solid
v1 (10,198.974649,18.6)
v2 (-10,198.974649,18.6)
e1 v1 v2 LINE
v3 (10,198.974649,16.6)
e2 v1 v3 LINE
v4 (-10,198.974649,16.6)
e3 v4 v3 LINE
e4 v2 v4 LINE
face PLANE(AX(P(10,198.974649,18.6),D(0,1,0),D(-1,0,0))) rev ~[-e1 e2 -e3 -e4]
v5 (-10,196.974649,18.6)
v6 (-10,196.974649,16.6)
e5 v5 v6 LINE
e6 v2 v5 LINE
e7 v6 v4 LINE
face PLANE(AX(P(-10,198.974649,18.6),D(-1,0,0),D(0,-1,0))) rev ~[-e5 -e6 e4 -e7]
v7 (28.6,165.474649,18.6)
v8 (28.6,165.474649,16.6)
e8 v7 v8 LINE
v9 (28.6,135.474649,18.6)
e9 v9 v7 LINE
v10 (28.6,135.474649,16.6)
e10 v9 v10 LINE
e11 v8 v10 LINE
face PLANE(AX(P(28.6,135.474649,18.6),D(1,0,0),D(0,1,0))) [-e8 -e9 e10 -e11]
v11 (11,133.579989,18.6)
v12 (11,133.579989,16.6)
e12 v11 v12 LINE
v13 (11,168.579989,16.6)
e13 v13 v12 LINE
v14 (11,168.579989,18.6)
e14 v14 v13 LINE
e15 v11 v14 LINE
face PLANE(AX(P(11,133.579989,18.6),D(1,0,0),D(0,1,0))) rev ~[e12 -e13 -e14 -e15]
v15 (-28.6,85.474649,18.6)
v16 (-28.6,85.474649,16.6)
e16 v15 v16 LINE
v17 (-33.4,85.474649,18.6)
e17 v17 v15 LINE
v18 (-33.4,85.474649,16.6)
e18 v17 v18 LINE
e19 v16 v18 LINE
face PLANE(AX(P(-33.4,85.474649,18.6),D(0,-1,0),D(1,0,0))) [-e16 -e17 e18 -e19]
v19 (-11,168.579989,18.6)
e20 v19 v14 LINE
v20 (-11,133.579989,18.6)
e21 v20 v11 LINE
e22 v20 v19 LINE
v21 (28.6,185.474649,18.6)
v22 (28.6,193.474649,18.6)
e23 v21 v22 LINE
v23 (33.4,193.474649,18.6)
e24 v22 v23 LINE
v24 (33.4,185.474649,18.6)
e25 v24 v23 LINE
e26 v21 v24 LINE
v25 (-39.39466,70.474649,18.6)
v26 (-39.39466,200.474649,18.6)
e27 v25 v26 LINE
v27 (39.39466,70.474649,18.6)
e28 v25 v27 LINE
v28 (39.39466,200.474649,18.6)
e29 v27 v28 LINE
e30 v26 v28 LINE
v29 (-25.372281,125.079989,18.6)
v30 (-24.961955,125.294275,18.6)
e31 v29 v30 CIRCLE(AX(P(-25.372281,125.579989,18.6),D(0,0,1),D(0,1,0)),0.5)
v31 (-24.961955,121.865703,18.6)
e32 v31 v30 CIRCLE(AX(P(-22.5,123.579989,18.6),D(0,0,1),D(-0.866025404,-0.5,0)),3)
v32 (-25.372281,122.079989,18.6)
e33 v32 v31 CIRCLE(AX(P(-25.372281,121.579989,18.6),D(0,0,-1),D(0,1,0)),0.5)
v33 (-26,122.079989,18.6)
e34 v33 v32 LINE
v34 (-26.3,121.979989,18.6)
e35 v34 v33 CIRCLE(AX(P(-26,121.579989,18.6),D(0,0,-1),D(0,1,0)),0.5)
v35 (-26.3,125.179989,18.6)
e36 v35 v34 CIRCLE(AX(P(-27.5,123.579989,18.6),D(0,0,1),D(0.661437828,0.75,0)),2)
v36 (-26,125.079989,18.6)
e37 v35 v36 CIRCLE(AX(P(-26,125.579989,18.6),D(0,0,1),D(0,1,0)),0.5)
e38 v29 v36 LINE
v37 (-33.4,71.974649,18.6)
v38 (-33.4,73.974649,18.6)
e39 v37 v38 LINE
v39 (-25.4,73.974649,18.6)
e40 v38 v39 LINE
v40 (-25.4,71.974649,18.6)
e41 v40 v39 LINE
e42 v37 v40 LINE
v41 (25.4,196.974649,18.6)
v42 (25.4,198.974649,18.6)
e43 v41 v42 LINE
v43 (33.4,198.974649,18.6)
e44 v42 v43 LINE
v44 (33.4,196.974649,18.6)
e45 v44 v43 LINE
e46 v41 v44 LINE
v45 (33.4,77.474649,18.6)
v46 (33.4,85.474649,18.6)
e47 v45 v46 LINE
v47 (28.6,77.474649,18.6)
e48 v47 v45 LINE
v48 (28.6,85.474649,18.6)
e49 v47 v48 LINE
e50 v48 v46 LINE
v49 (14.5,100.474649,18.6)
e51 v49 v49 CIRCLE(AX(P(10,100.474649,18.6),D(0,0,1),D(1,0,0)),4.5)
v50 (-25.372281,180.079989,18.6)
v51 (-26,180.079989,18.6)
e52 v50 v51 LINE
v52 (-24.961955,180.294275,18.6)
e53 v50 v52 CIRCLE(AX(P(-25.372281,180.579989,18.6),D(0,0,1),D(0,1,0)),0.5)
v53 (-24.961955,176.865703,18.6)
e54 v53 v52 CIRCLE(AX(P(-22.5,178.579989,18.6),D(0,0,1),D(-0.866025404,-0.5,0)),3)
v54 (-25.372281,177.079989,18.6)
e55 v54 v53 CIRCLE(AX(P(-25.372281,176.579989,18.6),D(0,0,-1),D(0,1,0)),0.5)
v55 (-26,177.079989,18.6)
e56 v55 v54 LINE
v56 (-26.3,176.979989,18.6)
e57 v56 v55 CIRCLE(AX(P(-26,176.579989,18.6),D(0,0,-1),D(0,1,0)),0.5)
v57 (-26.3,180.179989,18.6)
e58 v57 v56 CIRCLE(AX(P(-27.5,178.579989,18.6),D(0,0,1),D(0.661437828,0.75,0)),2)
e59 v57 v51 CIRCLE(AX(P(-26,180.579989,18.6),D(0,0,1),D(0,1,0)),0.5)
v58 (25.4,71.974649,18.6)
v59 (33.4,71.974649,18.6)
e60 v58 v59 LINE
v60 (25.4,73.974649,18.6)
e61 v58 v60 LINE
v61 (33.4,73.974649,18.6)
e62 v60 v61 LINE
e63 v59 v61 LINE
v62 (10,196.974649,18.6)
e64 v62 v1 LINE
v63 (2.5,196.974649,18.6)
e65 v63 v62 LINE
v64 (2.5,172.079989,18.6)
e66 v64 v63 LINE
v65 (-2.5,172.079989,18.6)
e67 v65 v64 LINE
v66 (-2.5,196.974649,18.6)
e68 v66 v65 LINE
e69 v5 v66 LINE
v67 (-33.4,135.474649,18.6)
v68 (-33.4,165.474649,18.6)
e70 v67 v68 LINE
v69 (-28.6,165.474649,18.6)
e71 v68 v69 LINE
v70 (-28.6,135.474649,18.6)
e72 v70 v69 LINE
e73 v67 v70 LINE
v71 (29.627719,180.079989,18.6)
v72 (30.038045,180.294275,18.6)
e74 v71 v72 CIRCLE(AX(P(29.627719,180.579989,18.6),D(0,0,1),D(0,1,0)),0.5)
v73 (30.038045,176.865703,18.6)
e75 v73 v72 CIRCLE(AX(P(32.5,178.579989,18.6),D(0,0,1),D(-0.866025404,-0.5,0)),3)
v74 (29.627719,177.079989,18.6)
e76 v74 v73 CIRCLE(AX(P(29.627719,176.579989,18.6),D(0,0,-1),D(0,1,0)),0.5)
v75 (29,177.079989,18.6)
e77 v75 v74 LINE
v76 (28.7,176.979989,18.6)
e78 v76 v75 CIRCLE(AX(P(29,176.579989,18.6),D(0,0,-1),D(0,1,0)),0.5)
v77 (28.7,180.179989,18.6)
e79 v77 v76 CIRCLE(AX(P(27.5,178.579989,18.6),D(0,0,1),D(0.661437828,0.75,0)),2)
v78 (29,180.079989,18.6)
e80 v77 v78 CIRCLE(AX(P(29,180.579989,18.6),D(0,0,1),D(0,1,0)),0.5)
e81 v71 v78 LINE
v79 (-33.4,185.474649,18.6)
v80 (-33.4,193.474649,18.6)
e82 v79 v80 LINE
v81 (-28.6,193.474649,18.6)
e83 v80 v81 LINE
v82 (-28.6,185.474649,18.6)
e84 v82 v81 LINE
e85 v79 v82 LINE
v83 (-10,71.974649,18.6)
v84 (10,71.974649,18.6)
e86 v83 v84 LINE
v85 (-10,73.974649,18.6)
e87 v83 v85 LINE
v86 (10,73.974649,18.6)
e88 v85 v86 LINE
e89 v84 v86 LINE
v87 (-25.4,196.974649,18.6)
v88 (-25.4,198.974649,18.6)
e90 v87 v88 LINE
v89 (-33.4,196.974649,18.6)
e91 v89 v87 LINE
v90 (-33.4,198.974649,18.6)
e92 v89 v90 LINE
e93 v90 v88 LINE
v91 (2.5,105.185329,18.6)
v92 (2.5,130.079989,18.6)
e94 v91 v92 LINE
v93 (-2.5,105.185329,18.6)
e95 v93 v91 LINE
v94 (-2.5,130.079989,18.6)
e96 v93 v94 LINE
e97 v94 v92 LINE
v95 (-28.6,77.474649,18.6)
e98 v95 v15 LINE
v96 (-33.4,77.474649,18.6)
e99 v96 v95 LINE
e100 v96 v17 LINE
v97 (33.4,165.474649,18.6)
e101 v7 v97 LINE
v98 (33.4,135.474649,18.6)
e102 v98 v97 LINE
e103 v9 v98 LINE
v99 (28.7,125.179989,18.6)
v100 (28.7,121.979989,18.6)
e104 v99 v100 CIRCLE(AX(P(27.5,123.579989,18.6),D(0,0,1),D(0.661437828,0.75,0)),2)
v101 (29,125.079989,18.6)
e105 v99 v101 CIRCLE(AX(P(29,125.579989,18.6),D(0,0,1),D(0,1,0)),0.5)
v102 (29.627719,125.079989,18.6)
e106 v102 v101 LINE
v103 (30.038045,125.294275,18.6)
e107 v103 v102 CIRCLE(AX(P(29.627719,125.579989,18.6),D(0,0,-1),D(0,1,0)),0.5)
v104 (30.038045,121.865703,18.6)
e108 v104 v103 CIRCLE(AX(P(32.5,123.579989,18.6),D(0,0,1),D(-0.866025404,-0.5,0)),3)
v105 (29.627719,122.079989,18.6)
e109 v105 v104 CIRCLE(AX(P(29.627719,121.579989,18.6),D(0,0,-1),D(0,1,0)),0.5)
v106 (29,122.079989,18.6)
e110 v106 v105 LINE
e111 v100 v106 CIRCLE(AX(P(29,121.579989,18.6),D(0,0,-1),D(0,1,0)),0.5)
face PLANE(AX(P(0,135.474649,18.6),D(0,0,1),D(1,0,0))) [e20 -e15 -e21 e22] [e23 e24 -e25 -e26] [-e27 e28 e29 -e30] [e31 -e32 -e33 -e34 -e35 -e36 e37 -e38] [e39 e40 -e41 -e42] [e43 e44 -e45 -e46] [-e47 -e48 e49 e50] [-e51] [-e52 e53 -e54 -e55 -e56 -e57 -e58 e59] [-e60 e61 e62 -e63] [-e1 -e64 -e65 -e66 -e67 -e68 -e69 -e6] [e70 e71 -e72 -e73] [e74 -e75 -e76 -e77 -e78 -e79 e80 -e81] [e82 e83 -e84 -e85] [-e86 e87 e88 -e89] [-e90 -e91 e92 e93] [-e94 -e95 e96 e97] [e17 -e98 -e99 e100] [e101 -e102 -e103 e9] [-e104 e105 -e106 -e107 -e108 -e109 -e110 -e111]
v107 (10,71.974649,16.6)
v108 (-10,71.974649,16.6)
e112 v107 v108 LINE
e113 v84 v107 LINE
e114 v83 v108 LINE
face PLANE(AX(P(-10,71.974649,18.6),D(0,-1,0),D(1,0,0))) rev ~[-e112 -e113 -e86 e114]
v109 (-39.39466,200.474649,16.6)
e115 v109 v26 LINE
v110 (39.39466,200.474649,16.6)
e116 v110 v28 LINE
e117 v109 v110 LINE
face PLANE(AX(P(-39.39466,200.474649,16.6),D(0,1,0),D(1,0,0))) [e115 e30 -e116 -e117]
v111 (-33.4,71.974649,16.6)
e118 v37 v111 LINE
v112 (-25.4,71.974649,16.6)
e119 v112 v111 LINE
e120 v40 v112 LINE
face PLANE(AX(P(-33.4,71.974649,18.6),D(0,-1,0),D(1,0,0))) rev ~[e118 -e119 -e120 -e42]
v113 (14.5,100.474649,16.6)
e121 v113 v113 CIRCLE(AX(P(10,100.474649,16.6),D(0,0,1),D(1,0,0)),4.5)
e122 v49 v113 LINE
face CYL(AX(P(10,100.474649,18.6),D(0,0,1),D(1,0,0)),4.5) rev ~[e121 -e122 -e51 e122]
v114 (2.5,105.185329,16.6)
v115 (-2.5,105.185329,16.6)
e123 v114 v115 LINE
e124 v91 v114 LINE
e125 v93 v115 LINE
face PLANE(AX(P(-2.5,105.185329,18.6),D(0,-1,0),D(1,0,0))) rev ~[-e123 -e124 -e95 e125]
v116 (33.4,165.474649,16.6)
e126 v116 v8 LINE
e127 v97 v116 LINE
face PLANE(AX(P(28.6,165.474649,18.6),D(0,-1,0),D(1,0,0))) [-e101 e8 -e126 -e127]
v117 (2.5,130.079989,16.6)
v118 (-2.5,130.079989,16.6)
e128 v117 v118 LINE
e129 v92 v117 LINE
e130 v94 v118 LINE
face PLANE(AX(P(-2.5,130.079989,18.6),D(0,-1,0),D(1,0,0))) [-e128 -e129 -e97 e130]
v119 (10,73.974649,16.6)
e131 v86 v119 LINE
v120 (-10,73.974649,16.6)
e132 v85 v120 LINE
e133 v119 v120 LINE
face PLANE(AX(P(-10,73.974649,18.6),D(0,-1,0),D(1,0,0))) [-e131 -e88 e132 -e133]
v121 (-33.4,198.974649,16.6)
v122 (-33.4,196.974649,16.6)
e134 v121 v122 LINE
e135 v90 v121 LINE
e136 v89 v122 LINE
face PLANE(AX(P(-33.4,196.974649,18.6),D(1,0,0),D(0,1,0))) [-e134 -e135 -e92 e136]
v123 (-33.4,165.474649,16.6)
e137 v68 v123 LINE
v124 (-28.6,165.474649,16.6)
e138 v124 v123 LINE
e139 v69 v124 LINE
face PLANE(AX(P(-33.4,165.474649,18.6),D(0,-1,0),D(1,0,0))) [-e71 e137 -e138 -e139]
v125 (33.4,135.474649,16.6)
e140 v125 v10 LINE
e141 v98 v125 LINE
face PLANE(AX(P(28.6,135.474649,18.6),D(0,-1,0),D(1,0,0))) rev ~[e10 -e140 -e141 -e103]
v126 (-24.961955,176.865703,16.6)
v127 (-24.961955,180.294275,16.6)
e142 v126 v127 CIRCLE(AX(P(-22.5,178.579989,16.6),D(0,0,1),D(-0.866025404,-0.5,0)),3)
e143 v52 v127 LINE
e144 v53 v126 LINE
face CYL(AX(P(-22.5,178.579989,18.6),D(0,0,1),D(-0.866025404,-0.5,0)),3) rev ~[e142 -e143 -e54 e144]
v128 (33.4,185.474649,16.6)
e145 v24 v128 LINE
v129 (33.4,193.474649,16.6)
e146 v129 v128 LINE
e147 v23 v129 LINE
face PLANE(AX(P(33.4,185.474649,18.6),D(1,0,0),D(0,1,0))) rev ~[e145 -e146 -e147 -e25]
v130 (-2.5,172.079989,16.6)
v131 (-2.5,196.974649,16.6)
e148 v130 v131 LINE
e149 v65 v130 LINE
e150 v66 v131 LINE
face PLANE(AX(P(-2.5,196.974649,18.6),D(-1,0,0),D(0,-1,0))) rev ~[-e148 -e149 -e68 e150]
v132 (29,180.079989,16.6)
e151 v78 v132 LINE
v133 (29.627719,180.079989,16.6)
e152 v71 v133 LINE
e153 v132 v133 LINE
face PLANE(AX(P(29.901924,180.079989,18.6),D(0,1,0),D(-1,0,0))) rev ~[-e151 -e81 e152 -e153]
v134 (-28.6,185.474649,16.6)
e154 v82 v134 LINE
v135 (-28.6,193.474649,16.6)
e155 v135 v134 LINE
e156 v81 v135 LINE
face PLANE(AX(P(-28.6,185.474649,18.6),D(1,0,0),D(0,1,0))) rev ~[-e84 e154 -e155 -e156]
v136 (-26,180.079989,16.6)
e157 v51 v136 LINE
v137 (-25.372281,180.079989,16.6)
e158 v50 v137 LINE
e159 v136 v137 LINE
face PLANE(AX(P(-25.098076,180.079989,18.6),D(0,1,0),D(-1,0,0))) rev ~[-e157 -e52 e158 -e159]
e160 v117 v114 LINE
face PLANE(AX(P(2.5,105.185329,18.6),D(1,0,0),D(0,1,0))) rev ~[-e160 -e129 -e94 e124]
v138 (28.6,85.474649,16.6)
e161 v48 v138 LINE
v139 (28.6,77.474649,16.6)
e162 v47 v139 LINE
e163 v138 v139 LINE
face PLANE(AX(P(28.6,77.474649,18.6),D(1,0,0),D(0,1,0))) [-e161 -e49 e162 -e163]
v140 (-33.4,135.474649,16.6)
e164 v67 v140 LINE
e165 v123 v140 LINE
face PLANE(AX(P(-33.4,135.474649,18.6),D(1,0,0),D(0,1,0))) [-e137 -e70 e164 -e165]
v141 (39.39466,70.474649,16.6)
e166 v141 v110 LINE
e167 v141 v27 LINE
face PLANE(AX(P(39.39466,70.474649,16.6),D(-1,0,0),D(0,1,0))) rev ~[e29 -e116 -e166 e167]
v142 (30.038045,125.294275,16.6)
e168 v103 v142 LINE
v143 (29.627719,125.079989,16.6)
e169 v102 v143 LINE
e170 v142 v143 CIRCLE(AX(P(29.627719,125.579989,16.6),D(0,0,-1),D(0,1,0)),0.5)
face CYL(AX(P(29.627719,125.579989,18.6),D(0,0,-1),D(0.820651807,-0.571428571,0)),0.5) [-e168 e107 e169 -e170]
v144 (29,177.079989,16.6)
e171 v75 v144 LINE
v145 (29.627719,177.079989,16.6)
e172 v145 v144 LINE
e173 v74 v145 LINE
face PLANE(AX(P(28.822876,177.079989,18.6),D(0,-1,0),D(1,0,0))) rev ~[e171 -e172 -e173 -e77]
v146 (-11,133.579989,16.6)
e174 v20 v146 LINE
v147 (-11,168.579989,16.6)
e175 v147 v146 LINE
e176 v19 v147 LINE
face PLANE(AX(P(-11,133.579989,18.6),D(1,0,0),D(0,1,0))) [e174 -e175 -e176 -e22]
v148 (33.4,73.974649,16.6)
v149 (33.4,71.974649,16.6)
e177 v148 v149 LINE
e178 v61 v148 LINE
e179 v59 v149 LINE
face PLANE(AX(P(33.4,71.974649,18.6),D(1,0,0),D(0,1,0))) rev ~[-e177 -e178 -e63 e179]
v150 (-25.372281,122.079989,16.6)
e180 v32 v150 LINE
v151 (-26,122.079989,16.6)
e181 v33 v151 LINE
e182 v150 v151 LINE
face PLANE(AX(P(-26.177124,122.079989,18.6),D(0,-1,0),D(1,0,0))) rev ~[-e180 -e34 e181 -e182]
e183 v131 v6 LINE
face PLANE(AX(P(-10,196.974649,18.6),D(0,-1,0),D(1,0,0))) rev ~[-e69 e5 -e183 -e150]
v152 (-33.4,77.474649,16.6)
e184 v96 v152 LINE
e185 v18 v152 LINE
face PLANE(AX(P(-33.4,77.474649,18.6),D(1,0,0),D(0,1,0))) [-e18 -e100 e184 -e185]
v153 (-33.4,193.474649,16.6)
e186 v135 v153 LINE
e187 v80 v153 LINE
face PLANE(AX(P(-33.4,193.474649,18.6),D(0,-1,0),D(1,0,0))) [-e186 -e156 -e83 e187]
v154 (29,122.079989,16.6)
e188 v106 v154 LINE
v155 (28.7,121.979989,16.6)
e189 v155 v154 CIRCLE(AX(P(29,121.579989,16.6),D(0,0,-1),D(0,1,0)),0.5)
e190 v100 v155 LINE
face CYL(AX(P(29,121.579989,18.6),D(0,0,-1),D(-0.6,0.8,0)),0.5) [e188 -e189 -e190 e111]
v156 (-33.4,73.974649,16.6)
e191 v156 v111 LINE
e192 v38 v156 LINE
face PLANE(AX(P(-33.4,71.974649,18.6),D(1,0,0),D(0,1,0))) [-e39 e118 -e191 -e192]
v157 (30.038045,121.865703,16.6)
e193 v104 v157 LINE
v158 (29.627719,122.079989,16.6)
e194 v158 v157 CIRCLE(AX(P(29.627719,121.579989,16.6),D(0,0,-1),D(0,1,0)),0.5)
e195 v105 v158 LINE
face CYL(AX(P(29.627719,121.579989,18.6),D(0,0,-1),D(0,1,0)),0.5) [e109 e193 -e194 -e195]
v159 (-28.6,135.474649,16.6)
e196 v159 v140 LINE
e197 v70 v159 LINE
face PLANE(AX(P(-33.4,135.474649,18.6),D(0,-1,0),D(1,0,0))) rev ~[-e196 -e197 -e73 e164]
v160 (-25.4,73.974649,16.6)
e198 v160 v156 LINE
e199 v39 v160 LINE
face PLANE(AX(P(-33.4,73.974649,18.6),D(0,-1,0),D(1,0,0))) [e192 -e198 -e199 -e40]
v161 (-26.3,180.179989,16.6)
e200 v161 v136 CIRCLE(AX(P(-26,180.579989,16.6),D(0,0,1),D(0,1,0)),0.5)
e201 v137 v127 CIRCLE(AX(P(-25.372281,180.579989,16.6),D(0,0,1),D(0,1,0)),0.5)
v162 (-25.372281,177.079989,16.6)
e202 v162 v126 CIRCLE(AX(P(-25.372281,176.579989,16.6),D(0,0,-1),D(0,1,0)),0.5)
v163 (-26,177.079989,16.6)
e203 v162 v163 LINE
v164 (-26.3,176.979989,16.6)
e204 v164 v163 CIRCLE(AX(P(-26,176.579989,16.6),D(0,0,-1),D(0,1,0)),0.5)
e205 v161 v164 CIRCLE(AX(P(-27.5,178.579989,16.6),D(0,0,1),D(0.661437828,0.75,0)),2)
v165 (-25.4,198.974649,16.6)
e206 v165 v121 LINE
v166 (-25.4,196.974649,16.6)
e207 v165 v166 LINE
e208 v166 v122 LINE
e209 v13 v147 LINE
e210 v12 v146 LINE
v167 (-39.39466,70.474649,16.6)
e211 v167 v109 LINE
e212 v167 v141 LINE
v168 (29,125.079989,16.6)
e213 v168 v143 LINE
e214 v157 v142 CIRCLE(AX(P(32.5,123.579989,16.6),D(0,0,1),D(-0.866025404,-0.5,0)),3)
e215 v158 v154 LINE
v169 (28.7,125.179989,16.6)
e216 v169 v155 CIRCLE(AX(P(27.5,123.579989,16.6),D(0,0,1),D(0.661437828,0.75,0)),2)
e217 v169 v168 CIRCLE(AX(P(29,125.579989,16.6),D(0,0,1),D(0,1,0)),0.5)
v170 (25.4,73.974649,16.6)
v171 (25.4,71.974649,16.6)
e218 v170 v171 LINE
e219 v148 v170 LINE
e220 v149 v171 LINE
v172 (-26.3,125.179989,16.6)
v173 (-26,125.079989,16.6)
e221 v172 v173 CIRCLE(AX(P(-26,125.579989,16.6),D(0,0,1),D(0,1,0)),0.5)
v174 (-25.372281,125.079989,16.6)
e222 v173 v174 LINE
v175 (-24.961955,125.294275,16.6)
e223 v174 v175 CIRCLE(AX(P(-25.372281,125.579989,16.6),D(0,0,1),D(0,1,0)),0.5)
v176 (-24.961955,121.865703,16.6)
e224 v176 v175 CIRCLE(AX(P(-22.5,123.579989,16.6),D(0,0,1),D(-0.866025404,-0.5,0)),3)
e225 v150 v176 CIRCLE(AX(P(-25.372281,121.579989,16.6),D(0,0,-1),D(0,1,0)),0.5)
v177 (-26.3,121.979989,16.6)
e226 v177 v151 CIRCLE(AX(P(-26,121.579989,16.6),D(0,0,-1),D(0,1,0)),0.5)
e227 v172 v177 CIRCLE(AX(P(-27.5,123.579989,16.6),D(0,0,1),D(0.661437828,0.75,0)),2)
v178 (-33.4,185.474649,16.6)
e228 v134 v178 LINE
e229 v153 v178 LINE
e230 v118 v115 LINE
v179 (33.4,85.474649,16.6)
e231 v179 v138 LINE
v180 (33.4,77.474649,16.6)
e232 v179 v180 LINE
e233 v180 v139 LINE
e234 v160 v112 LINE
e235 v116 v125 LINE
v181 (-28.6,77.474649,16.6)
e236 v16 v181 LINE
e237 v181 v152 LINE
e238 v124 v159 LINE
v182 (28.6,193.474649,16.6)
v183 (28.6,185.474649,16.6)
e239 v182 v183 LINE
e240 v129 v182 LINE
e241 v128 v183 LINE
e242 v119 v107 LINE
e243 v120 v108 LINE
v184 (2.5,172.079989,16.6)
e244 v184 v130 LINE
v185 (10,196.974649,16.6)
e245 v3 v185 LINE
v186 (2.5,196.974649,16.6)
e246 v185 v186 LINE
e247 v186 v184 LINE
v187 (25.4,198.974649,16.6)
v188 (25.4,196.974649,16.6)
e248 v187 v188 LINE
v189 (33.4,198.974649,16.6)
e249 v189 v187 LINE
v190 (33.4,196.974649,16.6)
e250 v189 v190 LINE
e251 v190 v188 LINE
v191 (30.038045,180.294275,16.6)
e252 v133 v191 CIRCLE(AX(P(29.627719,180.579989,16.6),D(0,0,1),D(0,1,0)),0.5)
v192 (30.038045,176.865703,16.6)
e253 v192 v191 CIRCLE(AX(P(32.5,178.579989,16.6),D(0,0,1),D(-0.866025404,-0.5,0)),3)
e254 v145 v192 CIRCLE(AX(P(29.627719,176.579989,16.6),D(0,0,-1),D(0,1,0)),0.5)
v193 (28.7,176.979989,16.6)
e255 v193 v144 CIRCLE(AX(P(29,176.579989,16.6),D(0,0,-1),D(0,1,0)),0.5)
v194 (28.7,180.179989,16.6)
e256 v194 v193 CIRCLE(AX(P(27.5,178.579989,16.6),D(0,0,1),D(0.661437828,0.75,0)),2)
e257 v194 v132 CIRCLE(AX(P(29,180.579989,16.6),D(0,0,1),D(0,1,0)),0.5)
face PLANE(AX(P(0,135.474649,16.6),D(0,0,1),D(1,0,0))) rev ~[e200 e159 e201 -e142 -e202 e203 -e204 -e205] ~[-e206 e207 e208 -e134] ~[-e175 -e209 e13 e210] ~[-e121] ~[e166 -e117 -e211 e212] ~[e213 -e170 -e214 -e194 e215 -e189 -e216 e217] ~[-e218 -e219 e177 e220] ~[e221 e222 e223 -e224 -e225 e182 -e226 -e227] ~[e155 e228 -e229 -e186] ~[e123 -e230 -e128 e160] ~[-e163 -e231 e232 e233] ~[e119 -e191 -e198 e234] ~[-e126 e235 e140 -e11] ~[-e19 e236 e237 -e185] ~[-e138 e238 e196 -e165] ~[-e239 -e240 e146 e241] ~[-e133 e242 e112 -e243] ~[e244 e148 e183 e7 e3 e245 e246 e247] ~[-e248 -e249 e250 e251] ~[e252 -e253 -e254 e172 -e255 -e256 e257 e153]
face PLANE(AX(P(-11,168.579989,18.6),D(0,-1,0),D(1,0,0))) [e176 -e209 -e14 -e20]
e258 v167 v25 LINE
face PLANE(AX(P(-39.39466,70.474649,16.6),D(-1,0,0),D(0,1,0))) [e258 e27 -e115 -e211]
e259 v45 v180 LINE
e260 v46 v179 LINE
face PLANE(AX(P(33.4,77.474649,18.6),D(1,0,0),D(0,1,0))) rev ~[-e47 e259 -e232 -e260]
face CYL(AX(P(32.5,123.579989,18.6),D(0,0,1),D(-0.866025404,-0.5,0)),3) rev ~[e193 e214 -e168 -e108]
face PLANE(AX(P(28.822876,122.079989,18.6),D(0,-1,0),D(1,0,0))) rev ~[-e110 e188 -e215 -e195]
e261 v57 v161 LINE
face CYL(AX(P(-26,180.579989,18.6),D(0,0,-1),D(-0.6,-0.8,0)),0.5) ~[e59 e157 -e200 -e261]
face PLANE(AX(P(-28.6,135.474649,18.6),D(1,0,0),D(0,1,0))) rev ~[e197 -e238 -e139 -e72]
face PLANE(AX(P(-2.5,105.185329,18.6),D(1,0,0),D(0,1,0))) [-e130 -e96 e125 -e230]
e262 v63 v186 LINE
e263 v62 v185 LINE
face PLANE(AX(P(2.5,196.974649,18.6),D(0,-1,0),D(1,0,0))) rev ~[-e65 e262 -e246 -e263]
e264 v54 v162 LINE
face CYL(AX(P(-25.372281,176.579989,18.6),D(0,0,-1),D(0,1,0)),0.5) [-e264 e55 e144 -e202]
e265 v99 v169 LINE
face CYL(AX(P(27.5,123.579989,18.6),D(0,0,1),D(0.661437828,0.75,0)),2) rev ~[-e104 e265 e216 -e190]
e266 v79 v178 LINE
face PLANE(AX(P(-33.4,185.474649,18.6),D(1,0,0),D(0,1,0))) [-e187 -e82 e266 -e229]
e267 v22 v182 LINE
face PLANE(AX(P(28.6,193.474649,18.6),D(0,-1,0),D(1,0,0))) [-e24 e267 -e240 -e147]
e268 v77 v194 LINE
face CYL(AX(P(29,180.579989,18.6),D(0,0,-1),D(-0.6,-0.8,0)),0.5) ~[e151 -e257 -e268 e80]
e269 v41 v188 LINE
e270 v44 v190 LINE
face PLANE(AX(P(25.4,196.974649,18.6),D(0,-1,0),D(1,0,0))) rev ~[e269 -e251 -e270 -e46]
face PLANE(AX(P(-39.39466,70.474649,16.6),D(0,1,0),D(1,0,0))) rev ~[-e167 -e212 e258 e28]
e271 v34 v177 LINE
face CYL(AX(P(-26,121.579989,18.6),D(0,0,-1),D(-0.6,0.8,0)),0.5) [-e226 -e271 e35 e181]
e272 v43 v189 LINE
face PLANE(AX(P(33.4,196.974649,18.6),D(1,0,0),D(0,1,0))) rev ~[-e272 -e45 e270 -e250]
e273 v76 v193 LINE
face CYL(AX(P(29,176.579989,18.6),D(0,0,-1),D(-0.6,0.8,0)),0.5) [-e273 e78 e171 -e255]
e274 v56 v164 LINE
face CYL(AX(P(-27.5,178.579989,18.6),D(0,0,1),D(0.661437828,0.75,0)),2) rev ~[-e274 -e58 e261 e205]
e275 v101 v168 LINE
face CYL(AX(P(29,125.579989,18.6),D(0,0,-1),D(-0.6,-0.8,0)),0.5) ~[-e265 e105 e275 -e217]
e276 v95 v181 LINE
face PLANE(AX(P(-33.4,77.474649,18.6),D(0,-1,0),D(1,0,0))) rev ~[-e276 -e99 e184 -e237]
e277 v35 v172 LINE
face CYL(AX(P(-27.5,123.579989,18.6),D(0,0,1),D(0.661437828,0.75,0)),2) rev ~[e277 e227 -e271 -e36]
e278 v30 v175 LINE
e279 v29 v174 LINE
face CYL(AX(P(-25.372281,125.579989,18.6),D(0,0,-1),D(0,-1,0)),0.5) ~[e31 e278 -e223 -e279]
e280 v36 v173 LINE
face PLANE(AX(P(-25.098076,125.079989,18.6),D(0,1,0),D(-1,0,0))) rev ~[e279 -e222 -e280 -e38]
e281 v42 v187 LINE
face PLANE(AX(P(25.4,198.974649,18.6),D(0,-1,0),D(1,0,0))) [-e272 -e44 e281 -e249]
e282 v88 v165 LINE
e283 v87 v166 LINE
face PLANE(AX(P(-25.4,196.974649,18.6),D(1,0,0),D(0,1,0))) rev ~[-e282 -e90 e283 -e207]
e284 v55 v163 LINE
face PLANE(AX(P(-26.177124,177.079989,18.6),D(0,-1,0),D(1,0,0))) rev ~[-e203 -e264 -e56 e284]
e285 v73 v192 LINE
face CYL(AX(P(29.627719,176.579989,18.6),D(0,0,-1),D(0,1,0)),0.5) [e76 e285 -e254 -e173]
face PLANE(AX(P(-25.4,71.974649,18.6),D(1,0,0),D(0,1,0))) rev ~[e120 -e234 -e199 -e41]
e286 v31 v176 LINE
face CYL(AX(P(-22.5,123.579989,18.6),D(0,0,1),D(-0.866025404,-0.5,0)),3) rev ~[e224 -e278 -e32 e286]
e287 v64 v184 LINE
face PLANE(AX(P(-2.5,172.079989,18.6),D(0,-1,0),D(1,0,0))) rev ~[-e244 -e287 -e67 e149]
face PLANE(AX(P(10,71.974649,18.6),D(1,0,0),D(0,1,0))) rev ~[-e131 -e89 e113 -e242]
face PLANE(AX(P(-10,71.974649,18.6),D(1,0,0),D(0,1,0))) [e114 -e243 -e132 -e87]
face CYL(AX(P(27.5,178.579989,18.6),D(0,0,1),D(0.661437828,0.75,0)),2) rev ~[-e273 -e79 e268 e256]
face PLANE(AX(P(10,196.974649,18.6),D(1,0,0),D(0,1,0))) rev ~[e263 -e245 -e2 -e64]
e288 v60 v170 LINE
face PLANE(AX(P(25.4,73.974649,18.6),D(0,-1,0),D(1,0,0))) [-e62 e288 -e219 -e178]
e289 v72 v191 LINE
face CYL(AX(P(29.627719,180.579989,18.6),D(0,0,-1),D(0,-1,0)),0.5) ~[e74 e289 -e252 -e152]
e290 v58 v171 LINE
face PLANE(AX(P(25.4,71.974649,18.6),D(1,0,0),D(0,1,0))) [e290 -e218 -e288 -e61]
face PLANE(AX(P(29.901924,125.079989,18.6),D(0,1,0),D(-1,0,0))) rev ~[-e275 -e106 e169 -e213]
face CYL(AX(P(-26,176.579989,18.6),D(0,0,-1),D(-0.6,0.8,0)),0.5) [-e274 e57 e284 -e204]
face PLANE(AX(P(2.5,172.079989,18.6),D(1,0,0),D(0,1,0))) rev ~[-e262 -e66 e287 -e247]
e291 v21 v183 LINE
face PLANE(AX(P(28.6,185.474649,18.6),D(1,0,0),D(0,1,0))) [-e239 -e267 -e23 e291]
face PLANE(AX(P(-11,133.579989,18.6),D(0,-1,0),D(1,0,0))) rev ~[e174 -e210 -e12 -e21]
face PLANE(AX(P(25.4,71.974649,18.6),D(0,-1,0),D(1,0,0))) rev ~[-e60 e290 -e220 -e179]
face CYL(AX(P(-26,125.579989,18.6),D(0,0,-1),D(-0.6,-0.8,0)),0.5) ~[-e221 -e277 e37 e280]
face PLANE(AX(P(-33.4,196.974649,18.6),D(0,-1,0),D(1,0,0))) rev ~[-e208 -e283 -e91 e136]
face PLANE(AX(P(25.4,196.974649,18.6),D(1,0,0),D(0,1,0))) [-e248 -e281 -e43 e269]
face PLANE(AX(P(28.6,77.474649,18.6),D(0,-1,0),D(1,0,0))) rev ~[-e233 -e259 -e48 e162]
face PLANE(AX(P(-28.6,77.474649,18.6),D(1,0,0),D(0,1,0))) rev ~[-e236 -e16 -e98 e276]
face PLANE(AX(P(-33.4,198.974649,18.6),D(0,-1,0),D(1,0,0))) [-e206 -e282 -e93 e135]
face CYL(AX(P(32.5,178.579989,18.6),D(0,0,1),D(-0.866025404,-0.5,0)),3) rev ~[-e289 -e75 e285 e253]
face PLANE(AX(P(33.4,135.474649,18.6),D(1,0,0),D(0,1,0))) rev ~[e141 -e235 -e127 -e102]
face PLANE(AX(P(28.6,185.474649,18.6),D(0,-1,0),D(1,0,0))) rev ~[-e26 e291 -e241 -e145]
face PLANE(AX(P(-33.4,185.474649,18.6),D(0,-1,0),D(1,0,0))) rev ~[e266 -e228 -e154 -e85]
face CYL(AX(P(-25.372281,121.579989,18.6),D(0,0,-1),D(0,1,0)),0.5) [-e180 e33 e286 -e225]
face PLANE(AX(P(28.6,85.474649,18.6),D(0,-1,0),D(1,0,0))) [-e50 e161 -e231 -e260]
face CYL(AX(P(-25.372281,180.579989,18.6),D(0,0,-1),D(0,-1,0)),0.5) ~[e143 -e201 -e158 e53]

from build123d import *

# Parameters (mm, degrees)
SKETCH1_W              = 78.789320596
SKETCH1_H              = 130
PANEL_DEPTH            = 2
SUCKER_HOLES_REACH     = 206.318
FILLET1_R              = 0.5
SIDE_PLATE_SLOTS_REACH = 206.318
SKETCH3_W              = 22
SKETCH3_H              = 35
SKETCH3_W_2            = 5
SKETCH3_H_2            = 24.894660299
SKETCH3_W_3            = 8
SKETCH3_H_3            = 2
SKETCH3_W_4            = 4.8
SKETCH3_H_4            = 8
SKETCH3_H_5            = 30
SKETCH3_W_5            = 20
CUT_EXTRUDE3_REACH     = 206.318
SKETCH4_R              = 4.5


with BuildPart() as part:
    # Sketch1 → panel (new body)
    with BuildSketch(Plane.XY.offset(16.6)):
        with Locations((0, 135.474649456)):
            Rectangle(SKETCH1_W, SKETCH1_H)
    extrude(amount=PANEL_DEPTH)

    # Sketch2 → sucker holes (cut, up to next)
    with BuildSketch(Plane.XY.offset(18.6), mode=Mode.PRIVATE) as sucker_holes_sk1:
        with BuildLine():
            ThreePointArc((-26.177124344, 125.079989158), (-29.5, 123.579989158), (-26.177124344, 122.079989158))
            Line((-26.177124344, 122.079989158), (-25.098076211, 122.079989158))
            ThreePointArc((-25.098076211, 122.079989158), (-19.5, 123.579989158), (-25.098076211, 125.079989158))
            Line((-25.098076211, 125.079989158), (-26.177124344, 125.079989158))
        make_face()
    sucker_holes_tool1 = extrude(sucker_holes_sk1.sketch, amount=-SUCKER_HOLES_REACH, mode=Mode.PRIVATE) & part.part
    # Sketch2 → sucker holes (cut, up to next)
    with BuildSketch(Plane.XY.offset(18.6), mode=Mode.PRIVATE) as sucker_holes_sk2:
        with BuildLine():
            ThreePointArc((-26.177124344, 180.079989158), (-29.5, 178.579989158), (-26.177124344, 177.079989158))
            Line((-26.177124344, 177.079989158), (-25.098076211, 177.079989158))
            ThreePointArc((-25.098076211, 177.079989158), (-19.5, 178.579989158), (-25.098076211, 180.079989158))
            Line((-25.098076211, 180.079989158), (-26.177124344, 180.079989158))
        make_face()
    sucker_holes_tool2 = extrude(sucker_holes_sk2.sketch, amount=-SUCKER_HOLES_REACH, mode=Mode.PRIVATE) & part.part
    # Sketch2 → sucker holes (cut, up to next)
    with BuildSketch(Plane.XY.offset(18.6), mode=Mode.PRIVATE) as sucker_holes_sk3:
        with BuildLine():
            ThreePointArc((28.822875656, 180.079989158), (25.5, 178.579989158), (28.822875656, 177.079989158))
            Line((28.822875656, 177.079989158), (29.901923789, 177.079989158))
            ThreePointArc((29.901923789, 177.079989158), (35.5, 178.579989158), (29.901923789, 180.079989158))
            Line((29.901923789, 180.079989158), (28.822875656, 180.079989158))
        make_face()
    sucker_holes_tool3 = extrude(sucker_holes_sk3.sketch, amount=-SUCKER_HOLES_REACH, mode=Mode.PRIVATE) & part.part
    # Sketch2 → sucker holes (cut, up to next)
    with BuildSketch(Plane.XY.offset(18.6), mode=Mode.PRIVATE) as sucker_holes_sk4:
        with BuildLine():
            ThreePointArc((28.822875656, 125.079989158), (25.5, 123.579989158), (28.822875656, 122.079989158))
            Line((28.822875656, 122.079989158), (29.901923789, 122.079989158))
            ThreePointArc((29.901923789, 122.079989158), (35.5, 123.579989158), (29.901923789, 125.079989158))
            Line((29.901923789, 125.079989158), (28.822875656, 125.079989158))
        make_face()
    sucker_holes_tool4 = extrude(sucker_holes_sk4.sketch, amount=-SUCKER_HOLES_REACH, mode=Mode.PRIVATE) & part.part
    add(sucker_holes_tool1.solids().sort_by_distance((-24.075669, 123.579989, 18.6))[0], mode=Mode.SUBTRACT)
    add(sucker_holes_tool2.solids().sort_by_distance((-24.075669, 178.579989, 18.6))[0], mode=Mode.SUBTRACT)
    add(sucker_holes_tool3.solids().sort_by_distance((30.924331, 178.579989, 18.6))[0], mode=Mode.SUBTRACT)
    add(sucker_holes_tool4.solids().sort_by_distance((30.924331, 123.579989, 18.6))[0], mode=Mode.SUBTRACT)

    # Fillet1
    fillet1_edges = [part.edges().sort_by_distance(p)[0] for p in [
        (-26.177124344, 125.079989158, 17.6),
        (-25.098076211, 125.079989158, 17.6),
        (-25.098076211, 122.079989158, 17.6),
        (-26.177124344, 122.079989158, 17.6),
        (-25.098076211, 177.079989158, 17.6),
        (-26.177124344, 177.079989158, 17.6),
        (-26.177124344, 180.079989158, 17.6),
        (-25.098076211, 180.079989158, 17.6),
        (29.901923789, 177.079989158, 17.6),
        (28.822875656, 177.079989158, 17.6),
        (28.822875656, 180.079989158, 17.6),
        (29.901923789, 180.079989158, 17.6),
        (29.901923789, 122.079989158, 17.6),
        (28.822875656, 122.079989158, 17.6),
        (28.822875656, 125.079989158, 17.6),
        (29.901923789, 125.079989158, 17.6),
    ]]
    fillet(fillet1_edges, radius=FILLET1_R)

    # Sketch3 → side plate slots (cut, up to next)
    with BuildSketch(Plane.XY.offset(18.6), mode=Mode.PRIVATE) as side_plate_slots_sk1:
        with Locations((0, 151.079989158)):
            Rectangle(SKETCH3_W, SKETCH3_H)
    side_plate_slots_tool1 = extrude(side_plate_slots_sk1.sketch, amount=-SIDE_PLATE_SLOTS_REACH, mode=Mode.PRIVATE) & part.part
    # Sketch3 → side plate slots (cut, up to next)
    with BuildSketch(Plane.XY.offset(18.6), mode=Mode.PRIVATE) as side_plate_slots_sk2:
        Polygon((-2.5, 196.974649456), (-2.5, 172.079989158), (2.5, 172.079989158), (2.5, 196.974649456), (10, 196.974649456), (10, 198.974649456), (-10, 198.974649456), (-10, 196.974649456), align=None)
    side_plate_slots_tool2 = extrude(side_plate_slots_sk2.sketch, amount=-SIDE_PLATE_SLOTS_REACH, mode=Mode.PRIVATE) & part.part
    # Sketch3 → side plate slots (cut, up to next)
    with BuildSketch(Plane.XY.offset(18.6), mode=Mode.PRIVATE) as side_plate_slots_sk3:
        with Locations((0, 117.632659009)):
            Rectangle(SKETCH3_W_2, SKETCH3_H_2)
    side_plate_slots_tool3 = extrude(side_plate_slots_sk3.sketch, amount=-SIDE_PLATE_SLOTS_REACH, mode=Mode.PRIVATE) & part.part
    # Sketch3 → side plate slots (cut, up to next)
    with BuildSketch(Plane.XY.offset(18.6), mode=Mode.PRIVATE) as side_plate_slots_sk4:
        with Locations((-29.4, 72.974649456)):
            Rectangle(SKETCH3_W_3, SKETCH3_H_3)
    side_plate_slots_tool4 = extrude(side_plate_slots_sk4.sketch, amount=-SIDE_PLATE_SLOTS_REACH, mode=Mode.PRIVATE) & part.part
    # Sketch3 → side plate slots (cut, up to next)
    with BuildSketch(Plane.XY.offset(18.6), mode=Mode.PRIVATE) as side_plate_slots_sk5:
        with Locations((-29.4, 197.974649456)):
            Rectangle(SKETCH3_W_3, SKETCH3_H_3)
    side_plate_slots_tool5 = extrude(side_plate_slots_sk5.sketch, amount=-SIDE_PLATE_SLOTS_REACH, mode=Mode.PRIVATE) & part.part
    # Sketch3 → side plate slots (cut, up to next)
    with BuildSketch(Plane.XY.offset(18.6), mode=Mode.PRIVATE) as side_plate_slots_sk6:
        with Locations((29.4, 197.974649456)):
            Rectangle(SKETCH3_W_3, SKETCH3_H_3)
    side_plate_slots_tool6 = extrude(side_plate_slots_sk6.sketch, amount=-SIDE_PLATE_SLOTS_REACH, mode=Mode.PRIVATE) & part.part
    # Sketch3 → side plate slots (cut, up to next)
    with BuildSketch(Plane.XY.offset(18.6), mode=Mode.PRIVATE) as side_plate_slots_sk7:
        with Locations((-31, 189.474649456)):
            Rectangle(SKETCH3_W_4, SKETCH3_H_4)
    side_plate_slots_tool7 = extrude(side_plate_slots_sk7.sketch, amount=-SIDE_PLATE_SLOTS_REACH, mode=Mode.PRIVATE) & part.part
    # Sketch3 → side plate slots (cut, up to next)
    with BuildSketch(Plane.XY.offset(18.6), mode=Mode.PRIVATE) as side_plate_slots_sk8:
        with Locations((-31, 150.474649456)):
            Rectangle(SKETCH3_W_4, SKETCH3_H_5)
    side_plate_slots_tool8 = extrude(side_plate_slots_sk8.sketch, amount=-SIDE_PLATE_SLOTS_REACH, mode=Mode.PRIVATE) & part.part
    # Sketch3 → side plate slots (cut, up to next)
    with BuildSketch(Plane.XY.offset(18.6), mode=Mode.PRIVATE) as side_plate_slots_sk9:
        with Locations((-31, 81.474649456)):
            Rectangle(SKETCH3_W_4, SKETCH3_H_4)
    side_plate_slots_tool9 = extrude(side_plate_slots_sk9.sketch, amount=-SIDE_PLATE_SLOTS_REACH, mode=Mode.PRIVATE) & part.part
    # Sketch3 → side plate slots (cut, up to next)
    with BuildSketch(Plane.XY.offset(18.6), mode=Mode.PRIVATE) as side_plate_slots_sk10:
        with Locations((31, 81.474649456)):
            Rectangle(SKETCH3_W_4, SKETCH3_H_4)
    side_plate_slots_tool10 = extrude(side_plate_slots_sk10.sketch, amount=-SIDE_PLATE_SLOTS_REACH, mode=Mode.PRIVATE) & part.part
    # Sketch3 → side plate slots (cut, up to next)
    with BuildSketch(Plane.XY.offset(18.6), mode=Mode.PRIVATE) as side_plate_slots_sk11:
        with Locations((31, 150.474649456)):
            Rectangle(SKETCH3_W_4, SKETCH3_H_5)
    side_plate_slots_tool11 = extrude(side_plate_slots_sk11.sketch, amount=-SIDE_PLATE_SLOTS_REACH, mode=Mode.PRIVATE) & part.part
    # Sketch3 → side plate slots (cut, up to next)
    with BuildSketch(Plane.XY.offset(18.6), mode=Mode.PRIVATE) as side_plate_slots_sk12:
        with Locations((31, 189.474649456)):
            Rectangle(SKETCH3_W_4, SKETCH3_H_4)
    side_plate_slots_tool12 = extrude(side_plate_slots_sk12.sketch, amount=-SIDE_PLATE_SLOTS_REACH, mode=Mode.PRIVATE) & part.part
    # Sketch3 → side plate slots (cut, up to next)
    with BuildSketch(Plane.XY.offset(18.6), mode=Mode.PRIVATE) as side_plate_slots_sk13:
        with Locations((29.4, 72.974649456)):
            Rectangle(SKETCH3_W_3, SKETCH3_H_3)
    side_plate_slots_tool13 = extrude(side_plate_slots_sk13.sketch, amount=-SIDE_PLATE_SLOTS_REACH, mode=Mode.PRIVATE) & part.part
    # Sketch3 → side plate slots (cut, up to next)
    with BuildSketch(Plane.XY.offset(18.6), mode=Mode.PRIVATE) as side_plate_slots_sk14:
        with Locations((0, 72.974649456)):
            Rectangle(SKETCH3_W_5, SKETCH3_H_3)
    side_plate_slots_tool14 = extrude(side_plate_slots_sk14.sketch, amount=-SIDE_PLATE_SLOTS_REACH, mode=Mode.PRIVATE) & part.part
    add(side_plate_slots_tool1.solids().sort_by_distance((0, 151.079989, 18.6))[0], mode=Mode.SUBTRACT)
    add(side_plate_slots_tool2.solids().sort_by_distance((0, 187.797718, 18.6))[0], mode=Mode.SUBTRACT)
    add(side_plate_slots_tool3.solids().sort_by_distance((0, 117.632659, 18.6))[0], mode=Mode.SUBTRACT)
    add(side_plate_slots_tool4.solids().sort_by_distance((-29.4, 72.974649, 18.6))[0], mode=Mode.SUBTRACT)
    add(side_plate_slots_tool5.solids().sort_by_distance((-29.4, 197.974649, 18.6))[0], mode=Mode.SUBTRACT)
    add(side_plate_slots_tool6.solids().sort_by_distance((29.4, 197.974649, 18.6))[0], mode=Mode.SUBTRACT)
    add(side_plate_slots_tool7.solids().sort_by_distance((-31, 189.474649, 18.6))[0], mode=Mode.SUBTRACT)
    add(side_plate_slots_tool8.solids().sort_by_distance((-31, 150.474649, 18.6))[0], mode=Mode.SUBTRACT)
    add(side_plate_slots_tool9.solids().sort_by_distance((-31, 81.474649, 18.6))[0], mode=Mode.SUBTRACT)
    add(side_plate_slots_tool10.solids().sort_by_distance((31, 81.474649, 18.6))[0], mode=Mode.SUBTRACT)
    add(side_plate_slots_tool11.solids().sort_by_distance((31, 150.474649, 18.6))[0], mode=Mode.SUBTRACT)
    add(side_plate_slots_tool12.solids().sort_by_distance((31, 189.474649, 18.6))[0], mode=Mode.SUBTRACT)
    add(side_plate_slots_tool13.solids().sort_by_distance((29.4, 72.974649, 18.6))[0], mode=Mode.SUBTRACT)
    add(side_plate_slots_tool14.solids().sort_by_distance((0, 72.974649, 18.6))[0], mode=Mode.SUBTRACT)

    # Sketch4 → Cut-Extrude3 (cut, up to next)
    with BuildSketch(Plane.XY.offset(18.6), mode=Mode.PRIVATE) as cut_extrude3_sk1:
        with Locations((10, 100.474649456)):
            Circle(SKETCH4_R)
    cut_extrude3_tool1 = extrude(cut_extrude3_sk1.sketch, amount=-CUT_EXTRUDE3_REACH, mode=Mode.PRIVATE) & part.part
    add(cut_extrude3_tool1.solids().sort_by_distance((10, 100.474649, 18.6))[0], mode=Mode.SUBTRACT)


solid = part.part
